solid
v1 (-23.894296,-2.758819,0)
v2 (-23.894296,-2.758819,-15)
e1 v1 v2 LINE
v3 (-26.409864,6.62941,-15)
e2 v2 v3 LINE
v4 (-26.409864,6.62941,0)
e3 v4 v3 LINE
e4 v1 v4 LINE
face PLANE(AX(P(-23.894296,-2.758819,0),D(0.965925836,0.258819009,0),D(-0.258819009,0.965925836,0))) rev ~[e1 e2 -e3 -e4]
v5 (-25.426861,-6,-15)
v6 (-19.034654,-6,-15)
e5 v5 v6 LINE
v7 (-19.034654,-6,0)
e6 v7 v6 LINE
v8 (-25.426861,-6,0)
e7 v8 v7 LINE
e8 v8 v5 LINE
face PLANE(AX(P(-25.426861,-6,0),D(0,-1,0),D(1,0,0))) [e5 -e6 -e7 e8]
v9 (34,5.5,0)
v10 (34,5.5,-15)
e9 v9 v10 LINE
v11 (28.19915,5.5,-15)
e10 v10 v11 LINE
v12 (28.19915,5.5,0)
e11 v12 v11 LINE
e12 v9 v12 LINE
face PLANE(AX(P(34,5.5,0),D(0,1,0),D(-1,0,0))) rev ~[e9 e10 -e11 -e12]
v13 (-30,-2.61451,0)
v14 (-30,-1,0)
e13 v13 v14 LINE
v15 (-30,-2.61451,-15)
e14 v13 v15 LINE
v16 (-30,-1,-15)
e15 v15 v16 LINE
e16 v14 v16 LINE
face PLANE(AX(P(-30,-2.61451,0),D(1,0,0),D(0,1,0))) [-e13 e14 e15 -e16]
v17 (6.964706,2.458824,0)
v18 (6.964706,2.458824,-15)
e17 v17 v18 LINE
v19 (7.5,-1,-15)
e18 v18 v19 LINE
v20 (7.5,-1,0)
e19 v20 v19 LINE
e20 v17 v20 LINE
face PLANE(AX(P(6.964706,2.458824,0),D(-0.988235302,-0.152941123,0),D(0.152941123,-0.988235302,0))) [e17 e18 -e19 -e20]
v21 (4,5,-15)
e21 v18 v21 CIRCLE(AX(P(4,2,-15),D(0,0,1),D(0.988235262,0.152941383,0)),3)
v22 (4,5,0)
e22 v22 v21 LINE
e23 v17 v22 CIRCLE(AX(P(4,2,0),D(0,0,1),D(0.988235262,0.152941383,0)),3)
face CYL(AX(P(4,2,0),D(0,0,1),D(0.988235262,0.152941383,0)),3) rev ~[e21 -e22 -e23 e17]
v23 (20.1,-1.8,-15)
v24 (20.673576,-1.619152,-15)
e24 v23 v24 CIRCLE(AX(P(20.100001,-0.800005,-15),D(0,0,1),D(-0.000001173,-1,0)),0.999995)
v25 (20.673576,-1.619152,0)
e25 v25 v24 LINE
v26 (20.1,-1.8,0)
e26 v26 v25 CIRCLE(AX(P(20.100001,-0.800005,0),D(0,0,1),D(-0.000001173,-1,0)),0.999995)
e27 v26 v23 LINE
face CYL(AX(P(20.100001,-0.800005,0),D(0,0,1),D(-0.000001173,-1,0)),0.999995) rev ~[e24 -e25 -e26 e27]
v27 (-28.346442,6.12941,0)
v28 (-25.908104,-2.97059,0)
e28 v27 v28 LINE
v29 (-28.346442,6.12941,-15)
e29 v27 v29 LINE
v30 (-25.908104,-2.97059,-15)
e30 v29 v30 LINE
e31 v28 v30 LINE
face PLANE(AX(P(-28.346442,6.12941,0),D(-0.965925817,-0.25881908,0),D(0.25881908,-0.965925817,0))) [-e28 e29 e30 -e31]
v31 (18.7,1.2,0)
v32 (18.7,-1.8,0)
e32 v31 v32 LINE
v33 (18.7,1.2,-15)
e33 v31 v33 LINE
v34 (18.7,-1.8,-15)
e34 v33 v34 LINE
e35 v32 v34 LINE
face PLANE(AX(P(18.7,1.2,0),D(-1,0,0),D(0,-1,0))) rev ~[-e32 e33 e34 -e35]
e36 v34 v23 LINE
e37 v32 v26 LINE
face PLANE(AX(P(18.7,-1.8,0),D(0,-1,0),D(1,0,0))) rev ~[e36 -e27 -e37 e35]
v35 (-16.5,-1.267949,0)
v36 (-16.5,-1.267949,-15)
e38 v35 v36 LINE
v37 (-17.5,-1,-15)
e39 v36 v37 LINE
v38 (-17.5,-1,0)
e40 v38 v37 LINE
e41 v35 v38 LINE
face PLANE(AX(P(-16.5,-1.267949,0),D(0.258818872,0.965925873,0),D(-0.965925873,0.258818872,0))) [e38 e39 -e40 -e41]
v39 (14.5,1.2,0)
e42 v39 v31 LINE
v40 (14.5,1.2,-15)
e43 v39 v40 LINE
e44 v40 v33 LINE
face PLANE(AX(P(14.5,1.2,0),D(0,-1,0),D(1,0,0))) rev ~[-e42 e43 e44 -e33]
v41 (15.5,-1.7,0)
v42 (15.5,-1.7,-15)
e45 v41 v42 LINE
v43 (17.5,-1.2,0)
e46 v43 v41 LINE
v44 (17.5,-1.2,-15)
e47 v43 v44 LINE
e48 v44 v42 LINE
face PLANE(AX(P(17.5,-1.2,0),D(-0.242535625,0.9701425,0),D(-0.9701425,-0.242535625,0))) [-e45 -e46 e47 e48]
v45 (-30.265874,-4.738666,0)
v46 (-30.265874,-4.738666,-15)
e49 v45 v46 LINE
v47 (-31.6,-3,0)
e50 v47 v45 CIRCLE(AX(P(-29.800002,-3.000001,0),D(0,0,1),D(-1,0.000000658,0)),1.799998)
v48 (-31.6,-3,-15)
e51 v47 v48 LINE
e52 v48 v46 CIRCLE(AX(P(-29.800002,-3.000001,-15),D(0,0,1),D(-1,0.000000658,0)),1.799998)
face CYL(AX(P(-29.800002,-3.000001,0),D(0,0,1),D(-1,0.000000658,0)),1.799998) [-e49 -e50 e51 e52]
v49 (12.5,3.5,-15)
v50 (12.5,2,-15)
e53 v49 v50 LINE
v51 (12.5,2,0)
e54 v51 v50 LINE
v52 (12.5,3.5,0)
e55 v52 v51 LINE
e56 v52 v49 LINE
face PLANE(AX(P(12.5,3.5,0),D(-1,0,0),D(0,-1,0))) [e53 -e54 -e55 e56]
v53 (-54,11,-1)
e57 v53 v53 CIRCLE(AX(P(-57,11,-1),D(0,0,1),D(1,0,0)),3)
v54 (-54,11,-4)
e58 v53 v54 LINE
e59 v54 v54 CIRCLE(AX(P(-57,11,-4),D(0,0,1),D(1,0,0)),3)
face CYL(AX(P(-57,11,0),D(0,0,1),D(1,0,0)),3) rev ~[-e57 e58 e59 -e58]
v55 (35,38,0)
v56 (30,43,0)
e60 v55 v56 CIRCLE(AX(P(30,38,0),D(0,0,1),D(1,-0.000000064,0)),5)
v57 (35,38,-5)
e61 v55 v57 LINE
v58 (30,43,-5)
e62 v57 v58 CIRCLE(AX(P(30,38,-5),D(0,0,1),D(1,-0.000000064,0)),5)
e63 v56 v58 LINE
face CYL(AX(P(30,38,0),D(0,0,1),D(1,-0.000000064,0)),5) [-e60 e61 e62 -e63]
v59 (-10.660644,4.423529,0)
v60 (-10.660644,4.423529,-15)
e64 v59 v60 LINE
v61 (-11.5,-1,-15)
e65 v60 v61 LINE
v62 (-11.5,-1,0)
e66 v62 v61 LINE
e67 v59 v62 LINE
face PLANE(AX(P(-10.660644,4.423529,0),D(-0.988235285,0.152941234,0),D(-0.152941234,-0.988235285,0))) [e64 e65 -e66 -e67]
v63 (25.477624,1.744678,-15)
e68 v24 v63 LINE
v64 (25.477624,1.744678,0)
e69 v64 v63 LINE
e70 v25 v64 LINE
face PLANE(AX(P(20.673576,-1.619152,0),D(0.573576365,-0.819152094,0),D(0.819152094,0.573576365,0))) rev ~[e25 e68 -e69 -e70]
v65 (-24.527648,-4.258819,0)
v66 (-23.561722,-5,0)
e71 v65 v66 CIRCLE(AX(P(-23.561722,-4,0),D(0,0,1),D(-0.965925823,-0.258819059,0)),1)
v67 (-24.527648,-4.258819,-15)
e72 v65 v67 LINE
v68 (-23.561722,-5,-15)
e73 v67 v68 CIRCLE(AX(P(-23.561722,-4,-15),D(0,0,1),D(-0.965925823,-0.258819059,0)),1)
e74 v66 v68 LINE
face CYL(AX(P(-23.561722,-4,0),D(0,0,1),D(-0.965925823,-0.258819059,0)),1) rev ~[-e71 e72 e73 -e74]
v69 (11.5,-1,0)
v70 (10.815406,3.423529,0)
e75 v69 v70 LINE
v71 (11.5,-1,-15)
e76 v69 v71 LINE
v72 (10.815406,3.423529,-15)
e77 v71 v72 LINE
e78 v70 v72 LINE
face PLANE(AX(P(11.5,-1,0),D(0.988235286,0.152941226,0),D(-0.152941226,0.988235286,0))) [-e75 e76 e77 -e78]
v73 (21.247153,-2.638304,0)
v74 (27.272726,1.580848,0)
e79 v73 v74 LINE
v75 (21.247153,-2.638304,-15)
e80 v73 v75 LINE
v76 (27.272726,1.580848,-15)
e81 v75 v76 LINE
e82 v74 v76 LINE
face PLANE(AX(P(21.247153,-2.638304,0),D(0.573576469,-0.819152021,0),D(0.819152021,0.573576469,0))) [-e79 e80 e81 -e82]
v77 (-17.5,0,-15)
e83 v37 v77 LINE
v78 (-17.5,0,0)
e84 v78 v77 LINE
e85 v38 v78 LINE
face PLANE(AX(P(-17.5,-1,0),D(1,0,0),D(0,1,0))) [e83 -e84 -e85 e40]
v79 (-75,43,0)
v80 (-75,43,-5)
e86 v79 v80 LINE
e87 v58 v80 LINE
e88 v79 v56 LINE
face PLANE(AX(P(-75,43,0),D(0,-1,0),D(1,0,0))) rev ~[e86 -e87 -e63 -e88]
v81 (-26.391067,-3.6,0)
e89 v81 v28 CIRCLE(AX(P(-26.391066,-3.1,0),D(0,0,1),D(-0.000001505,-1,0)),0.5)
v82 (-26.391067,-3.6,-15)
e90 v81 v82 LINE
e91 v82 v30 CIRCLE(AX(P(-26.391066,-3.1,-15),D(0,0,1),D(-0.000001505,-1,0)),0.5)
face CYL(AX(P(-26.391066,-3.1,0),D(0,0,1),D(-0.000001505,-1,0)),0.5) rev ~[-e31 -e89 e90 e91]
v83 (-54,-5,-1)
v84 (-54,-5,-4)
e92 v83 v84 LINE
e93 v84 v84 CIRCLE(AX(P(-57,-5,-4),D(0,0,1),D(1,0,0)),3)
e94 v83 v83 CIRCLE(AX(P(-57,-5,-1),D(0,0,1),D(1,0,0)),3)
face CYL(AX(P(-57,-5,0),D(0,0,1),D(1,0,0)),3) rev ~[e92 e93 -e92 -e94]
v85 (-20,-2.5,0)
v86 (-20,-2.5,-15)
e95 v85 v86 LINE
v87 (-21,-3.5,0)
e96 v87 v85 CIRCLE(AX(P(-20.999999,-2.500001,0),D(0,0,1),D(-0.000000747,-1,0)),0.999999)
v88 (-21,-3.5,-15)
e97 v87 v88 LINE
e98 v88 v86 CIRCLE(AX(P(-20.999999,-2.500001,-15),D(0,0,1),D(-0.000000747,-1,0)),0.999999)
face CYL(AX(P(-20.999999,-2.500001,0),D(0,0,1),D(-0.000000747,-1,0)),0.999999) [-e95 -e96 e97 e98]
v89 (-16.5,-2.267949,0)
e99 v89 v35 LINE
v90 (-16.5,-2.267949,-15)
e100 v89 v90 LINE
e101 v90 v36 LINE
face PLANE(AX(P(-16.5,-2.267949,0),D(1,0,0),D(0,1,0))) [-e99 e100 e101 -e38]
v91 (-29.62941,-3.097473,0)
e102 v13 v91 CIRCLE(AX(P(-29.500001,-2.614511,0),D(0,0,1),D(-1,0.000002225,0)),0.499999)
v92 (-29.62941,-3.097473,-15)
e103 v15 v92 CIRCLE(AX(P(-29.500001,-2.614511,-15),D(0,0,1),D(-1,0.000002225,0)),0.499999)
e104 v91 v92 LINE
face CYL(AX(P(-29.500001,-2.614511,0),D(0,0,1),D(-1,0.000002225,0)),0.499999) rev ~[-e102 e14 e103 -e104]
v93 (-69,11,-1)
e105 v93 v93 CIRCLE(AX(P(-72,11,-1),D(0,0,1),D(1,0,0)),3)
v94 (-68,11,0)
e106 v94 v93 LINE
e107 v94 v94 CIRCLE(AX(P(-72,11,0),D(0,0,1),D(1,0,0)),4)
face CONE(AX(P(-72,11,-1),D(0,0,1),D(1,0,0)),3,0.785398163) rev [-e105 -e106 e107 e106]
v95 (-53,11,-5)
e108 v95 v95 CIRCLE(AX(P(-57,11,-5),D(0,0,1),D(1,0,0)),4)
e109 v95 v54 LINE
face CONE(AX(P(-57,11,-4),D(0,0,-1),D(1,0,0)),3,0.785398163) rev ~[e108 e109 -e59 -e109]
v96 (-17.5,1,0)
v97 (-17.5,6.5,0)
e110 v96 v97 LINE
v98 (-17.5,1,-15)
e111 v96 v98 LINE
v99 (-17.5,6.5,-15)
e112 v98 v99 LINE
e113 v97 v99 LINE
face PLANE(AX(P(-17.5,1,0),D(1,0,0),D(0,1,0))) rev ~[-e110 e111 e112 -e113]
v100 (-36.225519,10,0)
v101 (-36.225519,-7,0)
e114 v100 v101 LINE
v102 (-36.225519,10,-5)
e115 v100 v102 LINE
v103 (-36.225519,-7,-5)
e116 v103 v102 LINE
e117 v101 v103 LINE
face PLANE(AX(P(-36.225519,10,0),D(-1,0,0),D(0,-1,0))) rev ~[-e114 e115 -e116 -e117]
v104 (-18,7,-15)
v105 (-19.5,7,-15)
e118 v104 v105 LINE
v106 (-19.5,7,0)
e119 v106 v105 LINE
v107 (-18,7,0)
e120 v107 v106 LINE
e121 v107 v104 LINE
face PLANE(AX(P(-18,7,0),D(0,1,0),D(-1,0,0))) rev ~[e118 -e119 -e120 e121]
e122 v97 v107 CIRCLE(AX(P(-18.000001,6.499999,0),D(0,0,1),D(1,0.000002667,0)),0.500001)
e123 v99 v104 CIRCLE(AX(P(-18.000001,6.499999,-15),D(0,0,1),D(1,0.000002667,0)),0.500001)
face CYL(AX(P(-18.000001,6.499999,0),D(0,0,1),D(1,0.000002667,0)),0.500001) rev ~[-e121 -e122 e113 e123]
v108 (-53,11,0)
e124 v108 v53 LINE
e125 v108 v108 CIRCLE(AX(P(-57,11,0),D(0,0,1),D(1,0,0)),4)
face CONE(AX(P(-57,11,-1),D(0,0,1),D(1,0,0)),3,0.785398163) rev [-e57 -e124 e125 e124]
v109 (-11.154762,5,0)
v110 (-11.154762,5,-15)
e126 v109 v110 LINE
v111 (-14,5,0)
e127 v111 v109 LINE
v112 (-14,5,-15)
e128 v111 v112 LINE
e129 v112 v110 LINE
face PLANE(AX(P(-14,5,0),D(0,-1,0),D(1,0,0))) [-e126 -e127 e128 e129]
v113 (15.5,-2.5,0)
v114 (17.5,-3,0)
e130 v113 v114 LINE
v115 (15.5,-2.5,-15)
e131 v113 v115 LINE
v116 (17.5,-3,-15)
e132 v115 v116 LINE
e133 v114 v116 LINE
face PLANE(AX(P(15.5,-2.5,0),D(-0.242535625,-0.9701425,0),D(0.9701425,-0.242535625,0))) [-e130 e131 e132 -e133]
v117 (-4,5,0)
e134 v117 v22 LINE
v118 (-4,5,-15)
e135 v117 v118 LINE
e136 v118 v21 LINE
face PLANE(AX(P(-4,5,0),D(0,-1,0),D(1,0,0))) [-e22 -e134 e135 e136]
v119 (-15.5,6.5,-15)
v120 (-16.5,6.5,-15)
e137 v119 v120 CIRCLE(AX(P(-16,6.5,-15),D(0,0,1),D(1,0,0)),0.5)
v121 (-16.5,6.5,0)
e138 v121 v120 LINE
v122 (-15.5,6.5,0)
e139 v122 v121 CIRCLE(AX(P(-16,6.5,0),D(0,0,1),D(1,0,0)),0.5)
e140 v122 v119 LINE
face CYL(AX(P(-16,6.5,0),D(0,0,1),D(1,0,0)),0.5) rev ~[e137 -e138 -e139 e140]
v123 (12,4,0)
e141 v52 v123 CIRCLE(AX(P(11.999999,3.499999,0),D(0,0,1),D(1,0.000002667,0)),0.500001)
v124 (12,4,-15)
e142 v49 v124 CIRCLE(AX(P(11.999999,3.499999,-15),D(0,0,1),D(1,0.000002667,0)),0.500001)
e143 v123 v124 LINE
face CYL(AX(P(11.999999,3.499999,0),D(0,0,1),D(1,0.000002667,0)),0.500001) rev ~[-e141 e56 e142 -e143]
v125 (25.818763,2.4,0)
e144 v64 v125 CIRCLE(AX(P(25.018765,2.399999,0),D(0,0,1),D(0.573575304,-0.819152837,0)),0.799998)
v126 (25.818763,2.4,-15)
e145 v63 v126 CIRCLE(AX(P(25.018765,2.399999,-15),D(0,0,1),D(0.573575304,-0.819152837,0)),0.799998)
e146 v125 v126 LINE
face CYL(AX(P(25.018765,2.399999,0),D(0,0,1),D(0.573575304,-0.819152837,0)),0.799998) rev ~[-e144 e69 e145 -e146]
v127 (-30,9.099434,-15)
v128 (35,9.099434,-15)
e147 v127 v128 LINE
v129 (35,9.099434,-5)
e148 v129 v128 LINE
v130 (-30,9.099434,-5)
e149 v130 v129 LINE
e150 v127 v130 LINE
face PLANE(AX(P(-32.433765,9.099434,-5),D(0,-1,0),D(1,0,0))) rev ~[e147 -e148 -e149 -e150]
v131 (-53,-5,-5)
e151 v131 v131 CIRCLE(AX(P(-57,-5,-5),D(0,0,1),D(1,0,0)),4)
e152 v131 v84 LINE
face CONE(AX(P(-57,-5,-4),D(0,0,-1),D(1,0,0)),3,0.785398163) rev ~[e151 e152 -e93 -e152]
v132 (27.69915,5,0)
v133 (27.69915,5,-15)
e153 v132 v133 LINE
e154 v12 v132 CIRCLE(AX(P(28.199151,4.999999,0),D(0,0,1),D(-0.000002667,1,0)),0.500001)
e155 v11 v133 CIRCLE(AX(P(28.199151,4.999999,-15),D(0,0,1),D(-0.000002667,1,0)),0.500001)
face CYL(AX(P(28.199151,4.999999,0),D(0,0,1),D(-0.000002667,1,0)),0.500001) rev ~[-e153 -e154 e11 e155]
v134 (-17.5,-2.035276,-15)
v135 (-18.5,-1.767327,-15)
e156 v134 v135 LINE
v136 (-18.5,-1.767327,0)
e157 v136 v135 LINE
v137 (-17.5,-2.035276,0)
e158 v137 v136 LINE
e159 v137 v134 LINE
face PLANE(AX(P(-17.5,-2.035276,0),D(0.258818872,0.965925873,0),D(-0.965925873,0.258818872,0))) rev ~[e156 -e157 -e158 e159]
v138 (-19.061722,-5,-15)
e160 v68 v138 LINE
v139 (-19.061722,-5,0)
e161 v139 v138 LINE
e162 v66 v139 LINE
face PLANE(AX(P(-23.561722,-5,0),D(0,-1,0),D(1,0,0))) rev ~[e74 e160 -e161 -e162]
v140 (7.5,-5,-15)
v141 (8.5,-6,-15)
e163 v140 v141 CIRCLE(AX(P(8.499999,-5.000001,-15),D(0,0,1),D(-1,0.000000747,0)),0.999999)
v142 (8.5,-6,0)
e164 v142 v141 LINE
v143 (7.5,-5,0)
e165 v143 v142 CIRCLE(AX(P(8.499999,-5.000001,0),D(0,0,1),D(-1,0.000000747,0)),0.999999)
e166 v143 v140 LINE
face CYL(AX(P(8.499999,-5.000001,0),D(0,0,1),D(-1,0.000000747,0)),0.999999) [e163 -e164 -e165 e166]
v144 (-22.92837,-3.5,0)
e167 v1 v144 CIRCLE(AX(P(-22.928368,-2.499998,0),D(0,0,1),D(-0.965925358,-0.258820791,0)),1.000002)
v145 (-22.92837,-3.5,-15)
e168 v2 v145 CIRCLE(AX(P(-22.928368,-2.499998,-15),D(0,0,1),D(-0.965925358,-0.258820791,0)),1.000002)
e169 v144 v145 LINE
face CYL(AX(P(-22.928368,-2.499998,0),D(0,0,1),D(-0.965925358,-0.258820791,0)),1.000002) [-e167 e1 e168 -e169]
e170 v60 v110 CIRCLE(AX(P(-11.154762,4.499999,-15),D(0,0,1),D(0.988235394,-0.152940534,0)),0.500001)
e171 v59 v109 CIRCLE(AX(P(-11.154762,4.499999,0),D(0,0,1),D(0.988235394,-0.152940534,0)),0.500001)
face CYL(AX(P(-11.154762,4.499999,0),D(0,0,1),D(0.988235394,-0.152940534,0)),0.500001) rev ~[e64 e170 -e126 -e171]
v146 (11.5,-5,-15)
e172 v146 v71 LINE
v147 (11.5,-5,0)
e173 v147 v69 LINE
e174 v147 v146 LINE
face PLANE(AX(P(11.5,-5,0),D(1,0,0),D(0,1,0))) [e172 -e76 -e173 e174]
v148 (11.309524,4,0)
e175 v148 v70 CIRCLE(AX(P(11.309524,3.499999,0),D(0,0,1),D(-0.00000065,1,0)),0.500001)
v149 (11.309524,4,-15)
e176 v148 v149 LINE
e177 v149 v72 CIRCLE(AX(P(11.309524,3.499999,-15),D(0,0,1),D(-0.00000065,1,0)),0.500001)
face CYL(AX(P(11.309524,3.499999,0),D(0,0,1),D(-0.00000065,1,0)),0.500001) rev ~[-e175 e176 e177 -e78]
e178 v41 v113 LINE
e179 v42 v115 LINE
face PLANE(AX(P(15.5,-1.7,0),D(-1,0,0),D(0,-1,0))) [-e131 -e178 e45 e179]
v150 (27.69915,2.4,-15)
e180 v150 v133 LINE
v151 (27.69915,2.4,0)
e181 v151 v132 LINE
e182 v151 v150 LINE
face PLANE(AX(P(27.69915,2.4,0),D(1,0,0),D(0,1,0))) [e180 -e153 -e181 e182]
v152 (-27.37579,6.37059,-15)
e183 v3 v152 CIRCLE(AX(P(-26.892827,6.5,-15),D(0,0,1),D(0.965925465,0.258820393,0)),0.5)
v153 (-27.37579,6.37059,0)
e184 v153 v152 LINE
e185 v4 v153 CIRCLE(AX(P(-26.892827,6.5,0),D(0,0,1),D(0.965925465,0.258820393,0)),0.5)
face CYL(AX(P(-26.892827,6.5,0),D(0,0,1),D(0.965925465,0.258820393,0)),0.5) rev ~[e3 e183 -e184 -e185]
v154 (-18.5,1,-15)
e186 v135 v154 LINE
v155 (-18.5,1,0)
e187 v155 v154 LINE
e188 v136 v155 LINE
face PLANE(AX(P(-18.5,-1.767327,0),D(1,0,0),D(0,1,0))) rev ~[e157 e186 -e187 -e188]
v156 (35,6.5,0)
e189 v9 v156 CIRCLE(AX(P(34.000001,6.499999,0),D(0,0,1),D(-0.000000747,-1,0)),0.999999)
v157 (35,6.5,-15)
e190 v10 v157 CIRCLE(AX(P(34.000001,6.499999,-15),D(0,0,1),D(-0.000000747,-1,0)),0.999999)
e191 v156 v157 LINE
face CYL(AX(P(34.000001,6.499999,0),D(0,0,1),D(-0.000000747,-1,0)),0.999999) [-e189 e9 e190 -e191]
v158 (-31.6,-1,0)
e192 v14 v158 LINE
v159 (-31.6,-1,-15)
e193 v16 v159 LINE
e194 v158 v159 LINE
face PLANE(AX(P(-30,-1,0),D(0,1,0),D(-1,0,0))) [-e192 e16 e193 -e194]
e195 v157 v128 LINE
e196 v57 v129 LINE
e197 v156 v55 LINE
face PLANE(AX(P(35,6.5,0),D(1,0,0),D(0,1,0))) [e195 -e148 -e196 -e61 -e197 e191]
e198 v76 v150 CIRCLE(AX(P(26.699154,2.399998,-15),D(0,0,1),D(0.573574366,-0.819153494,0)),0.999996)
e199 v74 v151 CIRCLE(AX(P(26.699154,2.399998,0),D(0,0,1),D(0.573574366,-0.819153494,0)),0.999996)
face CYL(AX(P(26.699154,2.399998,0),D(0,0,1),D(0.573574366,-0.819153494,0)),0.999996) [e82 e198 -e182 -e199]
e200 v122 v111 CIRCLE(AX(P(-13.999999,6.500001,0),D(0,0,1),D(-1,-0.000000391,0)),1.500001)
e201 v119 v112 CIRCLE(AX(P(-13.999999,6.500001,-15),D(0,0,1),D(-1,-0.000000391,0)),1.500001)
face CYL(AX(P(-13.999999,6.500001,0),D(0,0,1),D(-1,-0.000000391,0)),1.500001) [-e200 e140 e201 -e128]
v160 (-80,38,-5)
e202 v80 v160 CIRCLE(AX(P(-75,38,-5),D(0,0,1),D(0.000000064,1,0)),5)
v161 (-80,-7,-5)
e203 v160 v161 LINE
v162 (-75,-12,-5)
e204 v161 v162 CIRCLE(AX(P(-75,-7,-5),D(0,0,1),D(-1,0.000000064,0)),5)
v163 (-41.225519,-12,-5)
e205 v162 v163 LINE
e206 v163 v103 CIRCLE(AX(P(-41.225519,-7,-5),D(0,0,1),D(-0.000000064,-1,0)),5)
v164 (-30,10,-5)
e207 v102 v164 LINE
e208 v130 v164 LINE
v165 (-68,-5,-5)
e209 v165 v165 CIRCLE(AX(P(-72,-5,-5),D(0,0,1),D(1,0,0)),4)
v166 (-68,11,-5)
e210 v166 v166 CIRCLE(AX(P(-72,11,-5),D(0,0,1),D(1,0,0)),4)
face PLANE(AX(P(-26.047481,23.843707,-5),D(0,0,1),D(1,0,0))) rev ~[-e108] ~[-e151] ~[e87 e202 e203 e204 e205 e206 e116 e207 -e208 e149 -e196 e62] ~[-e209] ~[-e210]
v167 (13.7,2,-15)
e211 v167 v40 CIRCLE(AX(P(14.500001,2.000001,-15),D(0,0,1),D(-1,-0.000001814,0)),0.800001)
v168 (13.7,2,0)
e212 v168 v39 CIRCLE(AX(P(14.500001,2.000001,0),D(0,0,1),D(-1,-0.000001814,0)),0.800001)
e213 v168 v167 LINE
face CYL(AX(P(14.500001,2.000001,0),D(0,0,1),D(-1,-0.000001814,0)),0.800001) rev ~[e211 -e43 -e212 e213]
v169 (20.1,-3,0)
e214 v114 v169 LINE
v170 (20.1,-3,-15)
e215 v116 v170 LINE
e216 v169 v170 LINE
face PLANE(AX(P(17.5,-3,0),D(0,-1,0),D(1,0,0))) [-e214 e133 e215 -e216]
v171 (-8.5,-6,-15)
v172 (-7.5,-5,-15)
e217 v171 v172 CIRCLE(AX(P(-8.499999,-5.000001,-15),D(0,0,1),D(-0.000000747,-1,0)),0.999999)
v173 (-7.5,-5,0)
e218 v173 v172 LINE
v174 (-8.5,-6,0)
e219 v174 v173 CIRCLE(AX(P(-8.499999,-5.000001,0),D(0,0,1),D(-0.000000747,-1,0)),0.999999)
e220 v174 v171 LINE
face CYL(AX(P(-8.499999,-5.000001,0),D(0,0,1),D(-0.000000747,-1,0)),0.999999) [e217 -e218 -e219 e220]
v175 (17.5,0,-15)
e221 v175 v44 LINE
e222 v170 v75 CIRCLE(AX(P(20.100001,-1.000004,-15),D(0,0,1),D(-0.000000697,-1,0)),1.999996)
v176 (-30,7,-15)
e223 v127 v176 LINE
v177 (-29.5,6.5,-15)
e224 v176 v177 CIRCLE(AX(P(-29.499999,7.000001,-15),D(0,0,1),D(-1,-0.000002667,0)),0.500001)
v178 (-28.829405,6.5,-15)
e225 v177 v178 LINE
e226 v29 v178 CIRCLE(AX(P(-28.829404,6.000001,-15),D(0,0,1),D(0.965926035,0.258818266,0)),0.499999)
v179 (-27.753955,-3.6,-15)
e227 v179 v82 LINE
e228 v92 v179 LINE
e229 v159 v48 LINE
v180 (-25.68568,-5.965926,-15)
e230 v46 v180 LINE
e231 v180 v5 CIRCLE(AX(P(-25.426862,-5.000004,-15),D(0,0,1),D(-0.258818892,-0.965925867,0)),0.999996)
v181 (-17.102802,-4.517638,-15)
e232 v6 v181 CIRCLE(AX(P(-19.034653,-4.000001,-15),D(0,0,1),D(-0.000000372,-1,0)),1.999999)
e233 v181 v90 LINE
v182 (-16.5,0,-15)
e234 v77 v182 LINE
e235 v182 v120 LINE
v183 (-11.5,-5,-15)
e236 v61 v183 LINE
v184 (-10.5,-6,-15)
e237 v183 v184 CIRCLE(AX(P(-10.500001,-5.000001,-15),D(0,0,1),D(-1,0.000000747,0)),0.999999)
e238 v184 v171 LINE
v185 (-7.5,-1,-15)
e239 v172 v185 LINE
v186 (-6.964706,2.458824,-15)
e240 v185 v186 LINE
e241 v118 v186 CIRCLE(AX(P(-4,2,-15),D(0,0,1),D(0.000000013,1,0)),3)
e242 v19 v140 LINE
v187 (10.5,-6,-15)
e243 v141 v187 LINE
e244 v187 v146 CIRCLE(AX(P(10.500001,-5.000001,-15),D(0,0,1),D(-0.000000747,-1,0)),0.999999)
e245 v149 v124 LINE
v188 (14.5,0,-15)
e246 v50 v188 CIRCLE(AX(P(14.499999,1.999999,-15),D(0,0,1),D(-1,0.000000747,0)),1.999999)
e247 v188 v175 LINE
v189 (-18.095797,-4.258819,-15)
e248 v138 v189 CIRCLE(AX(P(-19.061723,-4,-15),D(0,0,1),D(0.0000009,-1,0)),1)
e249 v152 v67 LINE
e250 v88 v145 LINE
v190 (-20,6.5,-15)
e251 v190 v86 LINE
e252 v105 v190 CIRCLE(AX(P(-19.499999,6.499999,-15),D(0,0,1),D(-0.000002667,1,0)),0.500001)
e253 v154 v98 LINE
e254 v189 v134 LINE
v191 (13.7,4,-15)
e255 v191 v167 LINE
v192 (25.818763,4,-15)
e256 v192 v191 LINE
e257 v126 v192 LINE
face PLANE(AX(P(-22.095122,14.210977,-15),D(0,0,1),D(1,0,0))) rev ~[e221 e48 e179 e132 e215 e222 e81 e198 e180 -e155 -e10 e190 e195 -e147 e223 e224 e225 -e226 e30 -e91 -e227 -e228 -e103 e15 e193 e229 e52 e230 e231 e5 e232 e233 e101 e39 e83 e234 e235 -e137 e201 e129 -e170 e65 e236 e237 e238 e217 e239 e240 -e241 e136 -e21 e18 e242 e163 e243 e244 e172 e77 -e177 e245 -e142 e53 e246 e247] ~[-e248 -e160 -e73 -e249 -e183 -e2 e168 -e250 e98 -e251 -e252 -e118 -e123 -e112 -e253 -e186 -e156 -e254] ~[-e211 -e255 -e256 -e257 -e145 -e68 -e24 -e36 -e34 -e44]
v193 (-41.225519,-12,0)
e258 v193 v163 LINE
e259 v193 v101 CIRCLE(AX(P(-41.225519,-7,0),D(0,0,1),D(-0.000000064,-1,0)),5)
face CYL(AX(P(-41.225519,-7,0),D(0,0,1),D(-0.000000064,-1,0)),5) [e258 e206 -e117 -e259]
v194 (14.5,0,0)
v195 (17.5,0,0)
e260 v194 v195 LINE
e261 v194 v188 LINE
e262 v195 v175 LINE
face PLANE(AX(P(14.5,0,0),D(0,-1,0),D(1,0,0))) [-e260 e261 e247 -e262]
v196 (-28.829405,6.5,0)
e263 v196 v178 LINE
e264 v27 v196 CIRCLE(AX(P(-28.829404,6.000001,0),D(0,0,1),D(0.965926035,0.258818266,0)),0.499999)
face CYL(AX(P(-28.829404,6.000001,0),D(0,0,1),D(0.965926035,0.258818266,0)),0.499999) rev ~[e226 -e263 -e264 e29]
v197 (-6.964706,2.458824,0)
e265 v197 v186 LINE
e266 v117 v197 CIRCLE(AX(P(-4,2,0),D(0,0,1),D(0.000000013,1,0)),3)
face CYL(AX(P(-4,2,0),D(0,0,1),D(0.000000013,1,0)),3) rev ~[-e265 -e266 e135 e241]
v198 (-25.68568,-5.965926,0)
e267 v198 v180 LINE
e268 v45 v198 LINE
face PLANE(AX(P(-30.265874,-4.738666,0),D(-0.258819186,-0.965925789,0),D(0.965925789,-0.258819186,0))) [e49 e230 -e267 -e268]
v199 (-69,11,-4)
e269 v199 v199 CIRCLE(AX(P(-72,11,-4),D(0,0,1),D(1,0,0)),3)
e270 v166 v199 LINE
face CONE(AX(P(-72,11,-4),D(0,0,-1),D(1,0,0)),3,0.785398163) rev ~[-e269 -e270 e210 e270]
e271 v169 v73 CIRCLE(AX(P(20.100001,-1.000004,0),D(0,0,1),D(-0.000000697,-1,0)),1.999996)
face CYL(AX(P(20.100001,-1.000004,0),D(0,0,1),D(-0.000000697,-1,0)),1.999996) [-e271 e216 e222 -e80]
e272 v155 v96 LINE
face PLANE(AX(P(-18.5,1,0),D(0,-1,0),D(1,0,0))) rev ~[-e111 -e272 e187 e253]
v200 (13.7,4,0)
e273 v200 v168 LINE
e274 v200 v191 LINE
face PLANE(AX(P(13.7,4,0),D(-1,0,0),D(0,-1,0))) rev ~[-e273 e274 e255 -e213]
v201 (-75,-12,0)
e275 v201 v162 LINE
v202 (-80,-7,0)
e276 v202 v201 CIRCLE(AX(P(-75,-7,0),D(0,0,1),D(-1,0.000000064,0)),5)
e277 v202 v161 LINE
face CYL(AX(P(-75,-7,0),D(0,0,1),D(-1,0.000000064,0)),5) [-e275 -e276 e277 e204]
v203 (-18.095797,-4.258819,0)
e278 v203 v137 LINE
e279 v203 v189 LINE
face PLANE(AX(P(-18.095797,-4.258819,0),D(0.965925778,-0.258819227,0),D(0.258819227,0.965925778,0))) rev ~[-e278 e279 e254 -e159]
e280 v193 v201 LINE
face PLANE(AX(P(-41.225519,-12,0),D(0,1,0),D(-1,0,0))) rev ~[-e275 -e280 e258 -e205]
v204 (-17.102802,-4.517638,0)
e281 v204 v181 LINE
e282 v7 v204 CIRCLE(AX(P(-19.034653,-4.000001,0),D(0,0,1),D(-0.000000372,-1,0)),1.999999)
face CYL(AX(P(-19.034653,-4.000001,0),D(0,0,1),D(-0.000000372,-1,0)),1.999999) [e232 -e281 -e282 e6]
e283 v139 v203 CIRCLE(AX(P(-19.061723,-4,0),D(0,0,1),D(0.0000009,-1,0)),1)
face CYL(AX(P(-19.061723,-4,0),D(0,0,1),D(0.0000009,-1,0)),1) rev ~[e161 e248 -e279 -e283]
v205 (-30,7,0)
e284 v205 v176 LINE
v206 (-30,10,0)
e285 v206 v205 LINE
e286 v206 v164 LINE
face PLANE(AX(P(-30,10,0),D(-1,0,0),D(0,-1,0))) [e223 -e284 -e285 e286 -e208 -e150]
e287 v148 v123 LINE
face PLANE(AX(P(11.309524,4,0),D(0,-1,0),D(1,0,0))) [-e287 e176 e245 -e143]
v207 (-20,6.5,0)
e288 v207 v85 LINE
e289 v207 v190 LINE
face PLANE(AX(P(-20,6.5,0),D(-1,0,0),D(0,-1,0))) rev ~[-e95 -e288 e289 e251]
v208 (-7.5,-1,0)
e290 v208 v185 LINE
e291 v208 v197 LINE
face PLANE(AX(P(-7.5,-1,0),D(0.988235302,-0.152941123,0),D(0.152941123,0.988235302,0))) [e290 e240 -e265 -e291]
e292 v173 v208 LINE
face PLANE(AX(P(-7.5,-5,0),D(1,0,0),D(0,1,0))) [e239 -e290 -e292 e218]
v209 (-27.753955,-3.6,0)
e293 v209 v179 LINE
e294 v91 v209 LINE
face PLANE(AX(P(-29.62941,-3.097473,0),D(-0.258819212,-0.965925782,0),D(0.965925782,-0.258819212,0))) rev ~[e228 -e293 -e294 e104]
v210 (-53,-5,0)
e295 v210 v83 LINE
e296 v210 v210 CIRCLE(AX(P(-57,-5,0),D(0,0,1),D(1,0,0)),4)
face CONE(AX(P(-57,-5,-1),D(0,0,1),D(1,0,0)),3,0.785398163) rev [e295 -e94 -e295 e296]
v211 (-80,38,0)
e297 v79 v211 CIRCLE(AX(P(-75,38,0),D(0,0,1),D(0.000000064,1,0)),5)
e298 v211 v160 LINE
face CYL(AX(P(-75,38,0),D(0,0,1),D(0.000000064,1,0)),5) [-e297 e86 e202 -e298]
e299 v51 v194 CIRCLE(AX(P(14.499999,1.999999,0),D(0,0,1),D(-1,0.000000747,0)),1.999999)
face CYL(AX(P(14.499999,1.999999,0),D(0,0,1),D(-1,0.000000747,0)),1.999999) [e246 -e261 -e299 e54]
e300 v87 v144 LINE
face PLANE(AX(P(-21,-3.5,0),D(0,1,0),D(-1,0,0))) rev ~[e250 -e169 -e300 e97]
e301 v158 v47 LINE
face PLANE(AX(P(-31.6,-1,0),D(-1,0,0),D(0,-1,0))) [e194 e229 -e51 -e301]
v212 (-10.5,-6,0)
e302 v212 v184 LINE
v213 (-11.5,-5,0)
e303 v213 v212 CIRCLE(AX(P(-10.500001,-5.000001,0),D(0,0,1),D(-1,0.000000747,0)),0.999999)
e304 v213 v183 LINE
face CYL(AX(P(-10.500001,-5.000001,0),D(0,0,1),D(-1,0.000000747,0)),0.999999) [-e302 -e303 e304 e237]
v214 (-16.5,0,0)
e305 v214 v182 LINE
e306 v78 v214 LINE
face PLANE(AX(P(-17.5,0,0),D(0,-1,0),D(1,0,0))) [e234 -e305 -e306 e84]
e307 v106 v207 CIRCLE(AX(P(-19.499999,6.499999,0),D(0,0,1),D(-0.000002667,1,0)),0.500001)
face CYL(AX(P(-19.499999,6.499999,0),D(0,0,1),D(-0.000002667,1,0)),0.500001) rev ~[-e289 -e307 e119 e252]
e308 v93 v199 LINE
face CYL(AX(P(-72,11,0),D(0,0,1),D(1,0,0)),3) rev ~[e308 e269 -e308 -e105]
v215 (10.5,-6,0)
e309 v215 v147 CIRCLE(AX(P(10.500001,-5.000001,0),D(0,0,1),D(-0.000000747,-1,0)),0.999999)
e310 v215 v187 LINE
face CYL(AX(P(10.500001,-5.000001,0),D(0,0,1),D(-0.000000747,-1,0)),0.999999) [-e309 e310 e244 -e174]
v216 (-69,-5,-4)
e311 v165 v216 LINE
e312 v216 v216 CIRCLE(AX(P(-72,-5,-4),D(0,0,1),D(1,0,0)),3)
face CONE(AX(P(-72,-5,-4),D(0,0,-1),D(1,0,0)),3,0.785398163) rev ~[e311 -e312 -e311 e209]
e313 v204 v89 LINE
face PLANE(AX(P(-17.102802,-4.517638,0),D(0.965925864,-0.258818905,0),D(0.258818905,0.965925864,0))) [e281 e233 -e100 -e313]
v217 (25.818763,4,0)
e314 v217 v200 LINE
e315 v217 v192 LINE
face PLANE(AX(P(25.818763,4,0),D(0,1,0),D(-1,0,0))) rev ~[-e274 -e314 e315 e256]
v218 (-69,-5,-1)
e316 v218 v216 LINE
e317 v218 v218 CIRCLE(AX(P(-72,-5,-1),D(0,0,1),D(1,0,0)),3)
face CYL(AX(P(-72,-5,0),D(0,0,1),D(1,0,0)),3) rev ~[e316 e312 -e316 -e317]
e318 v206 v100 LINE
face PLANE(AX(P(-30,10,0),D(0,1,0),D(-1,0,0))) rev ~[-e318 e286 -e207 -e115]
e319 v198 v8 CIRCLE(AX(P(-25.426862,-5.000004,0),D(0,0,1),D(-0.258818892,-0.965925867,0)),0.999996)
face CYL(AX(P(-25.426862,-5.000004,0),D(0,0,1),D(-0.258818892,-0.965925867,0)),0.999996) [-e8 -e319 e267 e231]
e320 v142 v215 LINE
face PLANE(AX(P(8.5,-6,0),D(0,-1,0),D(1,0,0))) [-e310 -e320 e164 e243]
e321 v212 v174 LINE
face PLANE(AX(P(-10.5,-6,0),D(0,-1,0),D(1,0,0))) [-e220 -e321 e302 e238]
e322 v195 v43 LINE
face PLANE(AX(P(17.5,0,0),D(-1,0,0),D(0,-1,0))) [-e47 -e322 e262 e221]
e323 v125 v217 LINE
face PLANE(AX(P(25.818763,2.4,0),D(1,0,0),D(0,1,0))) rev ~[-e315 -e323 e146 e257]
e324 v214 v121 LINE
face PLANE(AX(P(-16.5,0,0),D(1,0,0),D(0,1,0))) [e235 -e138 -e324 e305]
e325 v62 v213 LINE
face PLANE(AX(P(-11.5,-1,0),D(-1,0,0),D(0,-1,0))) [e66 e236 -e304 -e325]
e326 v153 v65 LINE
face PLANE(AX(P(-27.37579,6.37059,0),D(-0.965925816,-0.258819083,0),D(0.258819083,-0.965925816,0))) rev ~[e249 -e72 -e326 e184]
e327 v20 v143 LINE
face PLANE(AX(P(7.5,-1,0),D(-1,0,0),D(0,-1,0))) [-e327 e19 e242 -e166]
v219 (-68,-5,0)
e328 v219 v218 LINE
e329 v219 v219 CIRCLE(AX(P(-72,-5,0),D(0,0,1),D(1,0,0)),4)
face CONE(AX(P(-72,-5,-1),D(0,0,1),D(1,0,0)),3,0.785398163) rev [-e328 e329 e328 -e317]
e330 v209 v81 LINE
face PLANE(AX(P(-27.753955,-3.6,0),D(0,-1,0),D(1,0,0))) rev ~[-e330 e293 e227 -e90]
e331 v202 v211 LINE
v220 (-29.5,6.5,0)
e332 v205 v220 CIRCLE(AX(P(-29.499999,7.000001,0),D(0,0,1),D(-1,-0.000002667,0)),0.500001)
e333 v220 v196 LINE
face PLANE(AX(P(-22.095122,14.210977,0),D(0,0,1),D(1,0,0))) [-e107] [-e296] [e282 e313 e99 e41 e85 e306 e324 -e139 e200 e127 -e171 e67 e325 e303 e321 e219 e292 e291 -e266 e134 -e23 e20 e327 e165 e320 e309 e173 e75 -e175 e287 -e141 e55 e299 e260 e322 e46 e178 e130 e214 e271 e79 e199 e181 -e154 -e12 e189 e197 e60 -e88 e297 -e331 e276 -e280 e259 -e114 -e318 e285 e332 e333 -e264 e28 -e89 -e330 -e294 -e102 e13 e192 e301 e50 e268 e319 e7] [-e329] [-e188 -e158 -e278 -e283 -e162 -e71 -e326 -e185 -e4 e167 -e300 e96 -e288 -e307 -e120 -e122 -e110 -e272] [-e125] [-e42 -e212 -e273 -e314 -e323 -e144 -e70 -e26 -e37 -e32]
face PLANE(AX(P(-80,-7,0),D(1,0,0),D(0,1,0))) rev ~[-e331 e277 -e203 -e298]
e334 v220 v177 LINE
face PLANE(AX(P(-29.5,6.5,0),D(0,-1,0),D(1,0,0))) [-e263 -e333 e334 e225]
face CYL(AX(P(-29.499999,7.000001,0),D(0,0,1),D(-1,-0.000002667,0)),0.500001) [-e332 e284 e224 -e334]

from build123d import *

# Parameters (mm, degrees)
SKETCH_R     = 3
PAD_DEPTH    = 15
POCKET_DEPTH = 10.001
CHAMFER_SIZE = 1


with BuildPart() as part:
    # Sketch → Pad (new body)
    with BuildSketch(Plane.XY):
        with BuildLine():
            Line((-30, 10), (-30, 7))
            ThreePointArc((-30, 7), (-29.853553, 6.646447), (-29.5, 6.5))
            Line((-29.5, 6.5), (-28.829405, 6.5))
            ThreePointArc((-28.346442, 6.12941), (-28.525024, 6.396677), (-28.829405, 6.5))
            Line((-28.346442, 6.12941), (-25.908104, -2.97059))
            ThreePointArc((-26.391067, -3.6), (-25.99439, -3.404381), (-25.908104, -2.97059))
            Line((-27.753955, -3.6), (-26.391067, -3.6))
            Line((-29.62941, -3.097473), (-27.753955, -3.6))
            ThreePointArc((-30, -2.61451), (-29.896677, -2.918891), (-29.62941, -3.097473))
            Line((-30, -2.61451), (-30, -1))
            Line((-30, -1), (-31.6, -1))
            Line((-31.6, -1), (-31.6, -3))
            ThreePointArc((-31.6, -3), (-31.228036, -4.095771), (-30.265874, -4.738666))
            Line((-30.265874, -4.738666), (-25.68568, -5.965926))
            ThreePointArc((-25.68568, -5.965926), (-25.557387, -5.991445), (-25.426861, -6))
            Line((-25.426861, -6), (-19.034654, -6))
            ThreePointArc((-19.034654, -6), (-17.817131, -5.586707), (-17.102802, -4.517638))
            Line((-17.102802, -4.517638), (-16.5, -2.267949))
            Line((-16.5, -2.267949), (-16.5, -1.267949))
            Line((-16.5, -1.267949), (-17.5, -1))
            Line((-17.5, -1), (-17.5, 0))
            Line((-17.5, 0), (-16.5, 0))
            Line((-16.5, 0), (-16.5, 6.5))
            ThreePointArc((-15.5, 6.5), (-16, 7), (-16.5, 6.5))
            ThreePointArc((-15.5, 6.5), (-15.06066, 5.43934), (-14, 5))
            Line((-14, 5), (-11.154762, 5))
            ThreePointArc((-10.660644, 4.423529), (-10.775134, 4.825396), (-11.154762, 5))
            Line((-10.660644, 4.423529), (-11.5, -1))
            Line((-11.5, -1), (-11.5, -5))
            ThreePointArc((-11.5, -5), (-11.207107, -5.707107), (-10.5, -6))
            Line((-10.5, -6), (-8.5, -6))
            ThreePointArc((-8.5, -6), (-7.792893, -5.707107), (-7.5, -5))
            Line((-7.5, -5), (-7.5, -1))
            Line((-7.5, -1), (-6.964706, 2.458824))
            ThreePointArc((-4, 5), (-5.952374, 4.27777), (-6.964706, 2.458824))
            Line((-4, 5), (4, 5))
            ThreePointArc((6.964706, 2.458824), (5.952374, 4.27777), (4, 5))
            Line((6.964706, 2.458824), (7.5, -1))
            Line((7.5, -1), (7.5, -5))
            ThreePointArc((7.5, -5), (7.792893, -5.707107), (8.5, -6))
            Line((8.5, -6), (10.5, -6))
            ThreePointArc((10.5, -6), (11.207107, -5.707107), (11.5, -5))
            Line((11.5, -5), (11.5, -1))
            Line((11.5, -1), (10.815406, 3.423529))
            ThreePointArc((11.309524, 4), (10.929896, 3.825396), (10.815406, 3.423529))
            Line((11.309524, 4), (12, 4))
            ThreePointArc((12.5, 3.5), (12.353553, 3.853553), (12, 4))
            Line((12.5, 3.5), (12.5, 2))
            ThreePointArc((12.5, 2), (13.085786, 0.585786), (14.5, 0))
            Line((14.5, 0), (17.5, 0))
            Line((17.5, 0), (17.5, -1.2))
            Line((17.5, -1.2), (15.5, -1.7))
            Line((15.5, -1.7), (15.5, -2.5))
            Line((15.5, -2.5), (17.5, -3))
            Line((17.5, -3), (20.1, -3))
            ThreePointArc((20.1, -3), (20.701412, -2.907434), (21.247153, -2.638304))
            Line((21.247153, -2.638304), (27.272726, 1.580848))
            ThreePointArc((27.272726, 1.580848), (27.586161, 1.938251), (27.69915, 2.4))
            Line((27.69915, 2.4), (27.69915, 5))
            ThreePointArc((28.19915, 5.5), (27.845597, 5.353553), (27.69915, 5))
            Line((34, 5.5), (28.19915, 5.5))
            ThreePointArc((34, 5.5), (34.707107, 5.792893), (35, 6.5))
            Line((35, 6.5), (35, 38))
            ThreePointArc((35, 38), (33.535534, 41.535534), (30, 43))
            Line((-75, 43), (30, 43))
            ThreePointArc((-75, 43), (-78.535534, 41.535534), (-80, 38))
            Line((-80, -7), (-80, 38))
            ThreePointArc((-80, -7), (-78.535534, -10.535534), (-75, -12))
            Line((-41.225519, -12), (-75, -12))
            ThreePointArc((-41.225519, -12), (-37.689985, -10.535534), (-36.225519, -7))
            Line((-36.225519, 10), (-36.225519, -7))
            Line((-30, 10), (-36.225519, 10))
        make_face()
        with Locations((-72, -5)):
            Circle(SKETCH_R, mode=Mode.SUBTRACT)
        with Locations((-72, 11)):
            Circle(SKETCH_R, mode=Mode.SUBTRACT)
        with Locations((-57, 11)):
            Circle(SKETCH_R, mode=Mode.SUBTRACT)
        with Locations((-57, -5)):
            Circle(SKETCH_R, mode=Mode.SUBTRACT)
        with BuildLine():
            Line((-23.894296, -2.758819), (-26.409864, 6.62941))
            ThreePointArc((-26.409864, 6.62941), (-27.022236, 6.982963), (-27.37579, 6.37059))
            Line((-27.37579, 6.37059), (-24.527648, -4.258819))
            ThreePointArc((-24.527648, -4.258819), (-24.170484, -4.793353), (-23.561722, -5))
            Line((-23.561722, -5), (-19.061722, -5))
            ThreePointArc((-19.061722, -5), (-18.452961, -4.793353), (-18.095797, -4.258819))
            Line((-18.095797, -4.258819), (-17.5, -2.035276))
            Line((-17.5, -2.035276), (-18.5, -1.767327))
            Line((-18.5, -1.767327), (-18.5, 1))
            Line((-18.5, 1), (-17.5, 1))
            Line((-17.5, 1), (-17.5, 6.5))
            ThreePointArc((-17.5, 6.5), (-17.646447, 6.853553), (-18, 7))
            Line((-18, 7), (-19.5, 7))
            ThreePointArc((-19.5, 7), (-19.853553, 6.853553), (-20, 6.5))
            Line((-20, 6.5), (-20, -2.5))
            ThreePointArc((-21, -3.5), (-20.292893, -3.207107), (-20, -2.5))
            Line((-21, -3.5), (-22.92837, -3.5))
            ThreePointArc((-23.894296, -2.758819), (-23.537131, -3.293353), (-22.92837, -3.5))
        make_face(mode=Mode.SUBTRACT)
        with BuildLine():
            Line((25.818763, 4), (13.7, 4))
            Line((13.7, 4), (13.7, 2))
            ThreePointArc((13.7, 2), (13.934315, 1.434315), (14.5, 1.2))
            Line((14.5, 1.2), (18.7, 1.2))
            Line((18.7, 1.2), (18.7, -1.8))
            Line((18.7, -1.8), (20.1, -1.8))
            ThreePointArc((20.1, -1.8), (20.400706, -1.753717), (20.673576, -1.619152))
            Line((20.673576, -1.619152), (25.477624, 1.744678))
            ThreePointArc((25.477624, 1.744678), (25.728372, 2.030601), (25.818763, 2.4))
            Line((25.818763, 2.4), (25.818763, 4))
        make_face(mode=Mode.SUBTRACT)
    extrude(amount=-PAD_DEPTH)

    # Sketch001 → Pocket (cut, through all)
    with BuildSketch(Plane.XY.offset(-5)):
        Polygon((-87.346291, -13.915375), (-32.433765, -13.915375), (-32.433765, 9.099434), (44.147678, 9.099434), (44.147678, 52.70644), (-87.346291, 52.70644), align=None)
    extrude(amount=-POCKET_DEPTH, mode=Mode.SUBTRACT)

    # Chamfer
    chamfer_edges = [part.edges().sort_by_distance(p)[0] for p in [
        (-75, 11, 0),
        (-69, 11, -2.5),
        (-75, 11, -5),
        (-60, 11, 0),
        (-54, 11, -2.5),
        (-60, 11, -5),
        (-60, -5, 0),
        (-54, -5, -2.5),
        (-60, -5, -5),
        (-75, -5, 0),
        (-69, -5, -2.5),
        (-75, -5, -5),
    ]]
    chamfer(chamfer_edges, length=CHAMFER_SIZE)


solid = part.part
